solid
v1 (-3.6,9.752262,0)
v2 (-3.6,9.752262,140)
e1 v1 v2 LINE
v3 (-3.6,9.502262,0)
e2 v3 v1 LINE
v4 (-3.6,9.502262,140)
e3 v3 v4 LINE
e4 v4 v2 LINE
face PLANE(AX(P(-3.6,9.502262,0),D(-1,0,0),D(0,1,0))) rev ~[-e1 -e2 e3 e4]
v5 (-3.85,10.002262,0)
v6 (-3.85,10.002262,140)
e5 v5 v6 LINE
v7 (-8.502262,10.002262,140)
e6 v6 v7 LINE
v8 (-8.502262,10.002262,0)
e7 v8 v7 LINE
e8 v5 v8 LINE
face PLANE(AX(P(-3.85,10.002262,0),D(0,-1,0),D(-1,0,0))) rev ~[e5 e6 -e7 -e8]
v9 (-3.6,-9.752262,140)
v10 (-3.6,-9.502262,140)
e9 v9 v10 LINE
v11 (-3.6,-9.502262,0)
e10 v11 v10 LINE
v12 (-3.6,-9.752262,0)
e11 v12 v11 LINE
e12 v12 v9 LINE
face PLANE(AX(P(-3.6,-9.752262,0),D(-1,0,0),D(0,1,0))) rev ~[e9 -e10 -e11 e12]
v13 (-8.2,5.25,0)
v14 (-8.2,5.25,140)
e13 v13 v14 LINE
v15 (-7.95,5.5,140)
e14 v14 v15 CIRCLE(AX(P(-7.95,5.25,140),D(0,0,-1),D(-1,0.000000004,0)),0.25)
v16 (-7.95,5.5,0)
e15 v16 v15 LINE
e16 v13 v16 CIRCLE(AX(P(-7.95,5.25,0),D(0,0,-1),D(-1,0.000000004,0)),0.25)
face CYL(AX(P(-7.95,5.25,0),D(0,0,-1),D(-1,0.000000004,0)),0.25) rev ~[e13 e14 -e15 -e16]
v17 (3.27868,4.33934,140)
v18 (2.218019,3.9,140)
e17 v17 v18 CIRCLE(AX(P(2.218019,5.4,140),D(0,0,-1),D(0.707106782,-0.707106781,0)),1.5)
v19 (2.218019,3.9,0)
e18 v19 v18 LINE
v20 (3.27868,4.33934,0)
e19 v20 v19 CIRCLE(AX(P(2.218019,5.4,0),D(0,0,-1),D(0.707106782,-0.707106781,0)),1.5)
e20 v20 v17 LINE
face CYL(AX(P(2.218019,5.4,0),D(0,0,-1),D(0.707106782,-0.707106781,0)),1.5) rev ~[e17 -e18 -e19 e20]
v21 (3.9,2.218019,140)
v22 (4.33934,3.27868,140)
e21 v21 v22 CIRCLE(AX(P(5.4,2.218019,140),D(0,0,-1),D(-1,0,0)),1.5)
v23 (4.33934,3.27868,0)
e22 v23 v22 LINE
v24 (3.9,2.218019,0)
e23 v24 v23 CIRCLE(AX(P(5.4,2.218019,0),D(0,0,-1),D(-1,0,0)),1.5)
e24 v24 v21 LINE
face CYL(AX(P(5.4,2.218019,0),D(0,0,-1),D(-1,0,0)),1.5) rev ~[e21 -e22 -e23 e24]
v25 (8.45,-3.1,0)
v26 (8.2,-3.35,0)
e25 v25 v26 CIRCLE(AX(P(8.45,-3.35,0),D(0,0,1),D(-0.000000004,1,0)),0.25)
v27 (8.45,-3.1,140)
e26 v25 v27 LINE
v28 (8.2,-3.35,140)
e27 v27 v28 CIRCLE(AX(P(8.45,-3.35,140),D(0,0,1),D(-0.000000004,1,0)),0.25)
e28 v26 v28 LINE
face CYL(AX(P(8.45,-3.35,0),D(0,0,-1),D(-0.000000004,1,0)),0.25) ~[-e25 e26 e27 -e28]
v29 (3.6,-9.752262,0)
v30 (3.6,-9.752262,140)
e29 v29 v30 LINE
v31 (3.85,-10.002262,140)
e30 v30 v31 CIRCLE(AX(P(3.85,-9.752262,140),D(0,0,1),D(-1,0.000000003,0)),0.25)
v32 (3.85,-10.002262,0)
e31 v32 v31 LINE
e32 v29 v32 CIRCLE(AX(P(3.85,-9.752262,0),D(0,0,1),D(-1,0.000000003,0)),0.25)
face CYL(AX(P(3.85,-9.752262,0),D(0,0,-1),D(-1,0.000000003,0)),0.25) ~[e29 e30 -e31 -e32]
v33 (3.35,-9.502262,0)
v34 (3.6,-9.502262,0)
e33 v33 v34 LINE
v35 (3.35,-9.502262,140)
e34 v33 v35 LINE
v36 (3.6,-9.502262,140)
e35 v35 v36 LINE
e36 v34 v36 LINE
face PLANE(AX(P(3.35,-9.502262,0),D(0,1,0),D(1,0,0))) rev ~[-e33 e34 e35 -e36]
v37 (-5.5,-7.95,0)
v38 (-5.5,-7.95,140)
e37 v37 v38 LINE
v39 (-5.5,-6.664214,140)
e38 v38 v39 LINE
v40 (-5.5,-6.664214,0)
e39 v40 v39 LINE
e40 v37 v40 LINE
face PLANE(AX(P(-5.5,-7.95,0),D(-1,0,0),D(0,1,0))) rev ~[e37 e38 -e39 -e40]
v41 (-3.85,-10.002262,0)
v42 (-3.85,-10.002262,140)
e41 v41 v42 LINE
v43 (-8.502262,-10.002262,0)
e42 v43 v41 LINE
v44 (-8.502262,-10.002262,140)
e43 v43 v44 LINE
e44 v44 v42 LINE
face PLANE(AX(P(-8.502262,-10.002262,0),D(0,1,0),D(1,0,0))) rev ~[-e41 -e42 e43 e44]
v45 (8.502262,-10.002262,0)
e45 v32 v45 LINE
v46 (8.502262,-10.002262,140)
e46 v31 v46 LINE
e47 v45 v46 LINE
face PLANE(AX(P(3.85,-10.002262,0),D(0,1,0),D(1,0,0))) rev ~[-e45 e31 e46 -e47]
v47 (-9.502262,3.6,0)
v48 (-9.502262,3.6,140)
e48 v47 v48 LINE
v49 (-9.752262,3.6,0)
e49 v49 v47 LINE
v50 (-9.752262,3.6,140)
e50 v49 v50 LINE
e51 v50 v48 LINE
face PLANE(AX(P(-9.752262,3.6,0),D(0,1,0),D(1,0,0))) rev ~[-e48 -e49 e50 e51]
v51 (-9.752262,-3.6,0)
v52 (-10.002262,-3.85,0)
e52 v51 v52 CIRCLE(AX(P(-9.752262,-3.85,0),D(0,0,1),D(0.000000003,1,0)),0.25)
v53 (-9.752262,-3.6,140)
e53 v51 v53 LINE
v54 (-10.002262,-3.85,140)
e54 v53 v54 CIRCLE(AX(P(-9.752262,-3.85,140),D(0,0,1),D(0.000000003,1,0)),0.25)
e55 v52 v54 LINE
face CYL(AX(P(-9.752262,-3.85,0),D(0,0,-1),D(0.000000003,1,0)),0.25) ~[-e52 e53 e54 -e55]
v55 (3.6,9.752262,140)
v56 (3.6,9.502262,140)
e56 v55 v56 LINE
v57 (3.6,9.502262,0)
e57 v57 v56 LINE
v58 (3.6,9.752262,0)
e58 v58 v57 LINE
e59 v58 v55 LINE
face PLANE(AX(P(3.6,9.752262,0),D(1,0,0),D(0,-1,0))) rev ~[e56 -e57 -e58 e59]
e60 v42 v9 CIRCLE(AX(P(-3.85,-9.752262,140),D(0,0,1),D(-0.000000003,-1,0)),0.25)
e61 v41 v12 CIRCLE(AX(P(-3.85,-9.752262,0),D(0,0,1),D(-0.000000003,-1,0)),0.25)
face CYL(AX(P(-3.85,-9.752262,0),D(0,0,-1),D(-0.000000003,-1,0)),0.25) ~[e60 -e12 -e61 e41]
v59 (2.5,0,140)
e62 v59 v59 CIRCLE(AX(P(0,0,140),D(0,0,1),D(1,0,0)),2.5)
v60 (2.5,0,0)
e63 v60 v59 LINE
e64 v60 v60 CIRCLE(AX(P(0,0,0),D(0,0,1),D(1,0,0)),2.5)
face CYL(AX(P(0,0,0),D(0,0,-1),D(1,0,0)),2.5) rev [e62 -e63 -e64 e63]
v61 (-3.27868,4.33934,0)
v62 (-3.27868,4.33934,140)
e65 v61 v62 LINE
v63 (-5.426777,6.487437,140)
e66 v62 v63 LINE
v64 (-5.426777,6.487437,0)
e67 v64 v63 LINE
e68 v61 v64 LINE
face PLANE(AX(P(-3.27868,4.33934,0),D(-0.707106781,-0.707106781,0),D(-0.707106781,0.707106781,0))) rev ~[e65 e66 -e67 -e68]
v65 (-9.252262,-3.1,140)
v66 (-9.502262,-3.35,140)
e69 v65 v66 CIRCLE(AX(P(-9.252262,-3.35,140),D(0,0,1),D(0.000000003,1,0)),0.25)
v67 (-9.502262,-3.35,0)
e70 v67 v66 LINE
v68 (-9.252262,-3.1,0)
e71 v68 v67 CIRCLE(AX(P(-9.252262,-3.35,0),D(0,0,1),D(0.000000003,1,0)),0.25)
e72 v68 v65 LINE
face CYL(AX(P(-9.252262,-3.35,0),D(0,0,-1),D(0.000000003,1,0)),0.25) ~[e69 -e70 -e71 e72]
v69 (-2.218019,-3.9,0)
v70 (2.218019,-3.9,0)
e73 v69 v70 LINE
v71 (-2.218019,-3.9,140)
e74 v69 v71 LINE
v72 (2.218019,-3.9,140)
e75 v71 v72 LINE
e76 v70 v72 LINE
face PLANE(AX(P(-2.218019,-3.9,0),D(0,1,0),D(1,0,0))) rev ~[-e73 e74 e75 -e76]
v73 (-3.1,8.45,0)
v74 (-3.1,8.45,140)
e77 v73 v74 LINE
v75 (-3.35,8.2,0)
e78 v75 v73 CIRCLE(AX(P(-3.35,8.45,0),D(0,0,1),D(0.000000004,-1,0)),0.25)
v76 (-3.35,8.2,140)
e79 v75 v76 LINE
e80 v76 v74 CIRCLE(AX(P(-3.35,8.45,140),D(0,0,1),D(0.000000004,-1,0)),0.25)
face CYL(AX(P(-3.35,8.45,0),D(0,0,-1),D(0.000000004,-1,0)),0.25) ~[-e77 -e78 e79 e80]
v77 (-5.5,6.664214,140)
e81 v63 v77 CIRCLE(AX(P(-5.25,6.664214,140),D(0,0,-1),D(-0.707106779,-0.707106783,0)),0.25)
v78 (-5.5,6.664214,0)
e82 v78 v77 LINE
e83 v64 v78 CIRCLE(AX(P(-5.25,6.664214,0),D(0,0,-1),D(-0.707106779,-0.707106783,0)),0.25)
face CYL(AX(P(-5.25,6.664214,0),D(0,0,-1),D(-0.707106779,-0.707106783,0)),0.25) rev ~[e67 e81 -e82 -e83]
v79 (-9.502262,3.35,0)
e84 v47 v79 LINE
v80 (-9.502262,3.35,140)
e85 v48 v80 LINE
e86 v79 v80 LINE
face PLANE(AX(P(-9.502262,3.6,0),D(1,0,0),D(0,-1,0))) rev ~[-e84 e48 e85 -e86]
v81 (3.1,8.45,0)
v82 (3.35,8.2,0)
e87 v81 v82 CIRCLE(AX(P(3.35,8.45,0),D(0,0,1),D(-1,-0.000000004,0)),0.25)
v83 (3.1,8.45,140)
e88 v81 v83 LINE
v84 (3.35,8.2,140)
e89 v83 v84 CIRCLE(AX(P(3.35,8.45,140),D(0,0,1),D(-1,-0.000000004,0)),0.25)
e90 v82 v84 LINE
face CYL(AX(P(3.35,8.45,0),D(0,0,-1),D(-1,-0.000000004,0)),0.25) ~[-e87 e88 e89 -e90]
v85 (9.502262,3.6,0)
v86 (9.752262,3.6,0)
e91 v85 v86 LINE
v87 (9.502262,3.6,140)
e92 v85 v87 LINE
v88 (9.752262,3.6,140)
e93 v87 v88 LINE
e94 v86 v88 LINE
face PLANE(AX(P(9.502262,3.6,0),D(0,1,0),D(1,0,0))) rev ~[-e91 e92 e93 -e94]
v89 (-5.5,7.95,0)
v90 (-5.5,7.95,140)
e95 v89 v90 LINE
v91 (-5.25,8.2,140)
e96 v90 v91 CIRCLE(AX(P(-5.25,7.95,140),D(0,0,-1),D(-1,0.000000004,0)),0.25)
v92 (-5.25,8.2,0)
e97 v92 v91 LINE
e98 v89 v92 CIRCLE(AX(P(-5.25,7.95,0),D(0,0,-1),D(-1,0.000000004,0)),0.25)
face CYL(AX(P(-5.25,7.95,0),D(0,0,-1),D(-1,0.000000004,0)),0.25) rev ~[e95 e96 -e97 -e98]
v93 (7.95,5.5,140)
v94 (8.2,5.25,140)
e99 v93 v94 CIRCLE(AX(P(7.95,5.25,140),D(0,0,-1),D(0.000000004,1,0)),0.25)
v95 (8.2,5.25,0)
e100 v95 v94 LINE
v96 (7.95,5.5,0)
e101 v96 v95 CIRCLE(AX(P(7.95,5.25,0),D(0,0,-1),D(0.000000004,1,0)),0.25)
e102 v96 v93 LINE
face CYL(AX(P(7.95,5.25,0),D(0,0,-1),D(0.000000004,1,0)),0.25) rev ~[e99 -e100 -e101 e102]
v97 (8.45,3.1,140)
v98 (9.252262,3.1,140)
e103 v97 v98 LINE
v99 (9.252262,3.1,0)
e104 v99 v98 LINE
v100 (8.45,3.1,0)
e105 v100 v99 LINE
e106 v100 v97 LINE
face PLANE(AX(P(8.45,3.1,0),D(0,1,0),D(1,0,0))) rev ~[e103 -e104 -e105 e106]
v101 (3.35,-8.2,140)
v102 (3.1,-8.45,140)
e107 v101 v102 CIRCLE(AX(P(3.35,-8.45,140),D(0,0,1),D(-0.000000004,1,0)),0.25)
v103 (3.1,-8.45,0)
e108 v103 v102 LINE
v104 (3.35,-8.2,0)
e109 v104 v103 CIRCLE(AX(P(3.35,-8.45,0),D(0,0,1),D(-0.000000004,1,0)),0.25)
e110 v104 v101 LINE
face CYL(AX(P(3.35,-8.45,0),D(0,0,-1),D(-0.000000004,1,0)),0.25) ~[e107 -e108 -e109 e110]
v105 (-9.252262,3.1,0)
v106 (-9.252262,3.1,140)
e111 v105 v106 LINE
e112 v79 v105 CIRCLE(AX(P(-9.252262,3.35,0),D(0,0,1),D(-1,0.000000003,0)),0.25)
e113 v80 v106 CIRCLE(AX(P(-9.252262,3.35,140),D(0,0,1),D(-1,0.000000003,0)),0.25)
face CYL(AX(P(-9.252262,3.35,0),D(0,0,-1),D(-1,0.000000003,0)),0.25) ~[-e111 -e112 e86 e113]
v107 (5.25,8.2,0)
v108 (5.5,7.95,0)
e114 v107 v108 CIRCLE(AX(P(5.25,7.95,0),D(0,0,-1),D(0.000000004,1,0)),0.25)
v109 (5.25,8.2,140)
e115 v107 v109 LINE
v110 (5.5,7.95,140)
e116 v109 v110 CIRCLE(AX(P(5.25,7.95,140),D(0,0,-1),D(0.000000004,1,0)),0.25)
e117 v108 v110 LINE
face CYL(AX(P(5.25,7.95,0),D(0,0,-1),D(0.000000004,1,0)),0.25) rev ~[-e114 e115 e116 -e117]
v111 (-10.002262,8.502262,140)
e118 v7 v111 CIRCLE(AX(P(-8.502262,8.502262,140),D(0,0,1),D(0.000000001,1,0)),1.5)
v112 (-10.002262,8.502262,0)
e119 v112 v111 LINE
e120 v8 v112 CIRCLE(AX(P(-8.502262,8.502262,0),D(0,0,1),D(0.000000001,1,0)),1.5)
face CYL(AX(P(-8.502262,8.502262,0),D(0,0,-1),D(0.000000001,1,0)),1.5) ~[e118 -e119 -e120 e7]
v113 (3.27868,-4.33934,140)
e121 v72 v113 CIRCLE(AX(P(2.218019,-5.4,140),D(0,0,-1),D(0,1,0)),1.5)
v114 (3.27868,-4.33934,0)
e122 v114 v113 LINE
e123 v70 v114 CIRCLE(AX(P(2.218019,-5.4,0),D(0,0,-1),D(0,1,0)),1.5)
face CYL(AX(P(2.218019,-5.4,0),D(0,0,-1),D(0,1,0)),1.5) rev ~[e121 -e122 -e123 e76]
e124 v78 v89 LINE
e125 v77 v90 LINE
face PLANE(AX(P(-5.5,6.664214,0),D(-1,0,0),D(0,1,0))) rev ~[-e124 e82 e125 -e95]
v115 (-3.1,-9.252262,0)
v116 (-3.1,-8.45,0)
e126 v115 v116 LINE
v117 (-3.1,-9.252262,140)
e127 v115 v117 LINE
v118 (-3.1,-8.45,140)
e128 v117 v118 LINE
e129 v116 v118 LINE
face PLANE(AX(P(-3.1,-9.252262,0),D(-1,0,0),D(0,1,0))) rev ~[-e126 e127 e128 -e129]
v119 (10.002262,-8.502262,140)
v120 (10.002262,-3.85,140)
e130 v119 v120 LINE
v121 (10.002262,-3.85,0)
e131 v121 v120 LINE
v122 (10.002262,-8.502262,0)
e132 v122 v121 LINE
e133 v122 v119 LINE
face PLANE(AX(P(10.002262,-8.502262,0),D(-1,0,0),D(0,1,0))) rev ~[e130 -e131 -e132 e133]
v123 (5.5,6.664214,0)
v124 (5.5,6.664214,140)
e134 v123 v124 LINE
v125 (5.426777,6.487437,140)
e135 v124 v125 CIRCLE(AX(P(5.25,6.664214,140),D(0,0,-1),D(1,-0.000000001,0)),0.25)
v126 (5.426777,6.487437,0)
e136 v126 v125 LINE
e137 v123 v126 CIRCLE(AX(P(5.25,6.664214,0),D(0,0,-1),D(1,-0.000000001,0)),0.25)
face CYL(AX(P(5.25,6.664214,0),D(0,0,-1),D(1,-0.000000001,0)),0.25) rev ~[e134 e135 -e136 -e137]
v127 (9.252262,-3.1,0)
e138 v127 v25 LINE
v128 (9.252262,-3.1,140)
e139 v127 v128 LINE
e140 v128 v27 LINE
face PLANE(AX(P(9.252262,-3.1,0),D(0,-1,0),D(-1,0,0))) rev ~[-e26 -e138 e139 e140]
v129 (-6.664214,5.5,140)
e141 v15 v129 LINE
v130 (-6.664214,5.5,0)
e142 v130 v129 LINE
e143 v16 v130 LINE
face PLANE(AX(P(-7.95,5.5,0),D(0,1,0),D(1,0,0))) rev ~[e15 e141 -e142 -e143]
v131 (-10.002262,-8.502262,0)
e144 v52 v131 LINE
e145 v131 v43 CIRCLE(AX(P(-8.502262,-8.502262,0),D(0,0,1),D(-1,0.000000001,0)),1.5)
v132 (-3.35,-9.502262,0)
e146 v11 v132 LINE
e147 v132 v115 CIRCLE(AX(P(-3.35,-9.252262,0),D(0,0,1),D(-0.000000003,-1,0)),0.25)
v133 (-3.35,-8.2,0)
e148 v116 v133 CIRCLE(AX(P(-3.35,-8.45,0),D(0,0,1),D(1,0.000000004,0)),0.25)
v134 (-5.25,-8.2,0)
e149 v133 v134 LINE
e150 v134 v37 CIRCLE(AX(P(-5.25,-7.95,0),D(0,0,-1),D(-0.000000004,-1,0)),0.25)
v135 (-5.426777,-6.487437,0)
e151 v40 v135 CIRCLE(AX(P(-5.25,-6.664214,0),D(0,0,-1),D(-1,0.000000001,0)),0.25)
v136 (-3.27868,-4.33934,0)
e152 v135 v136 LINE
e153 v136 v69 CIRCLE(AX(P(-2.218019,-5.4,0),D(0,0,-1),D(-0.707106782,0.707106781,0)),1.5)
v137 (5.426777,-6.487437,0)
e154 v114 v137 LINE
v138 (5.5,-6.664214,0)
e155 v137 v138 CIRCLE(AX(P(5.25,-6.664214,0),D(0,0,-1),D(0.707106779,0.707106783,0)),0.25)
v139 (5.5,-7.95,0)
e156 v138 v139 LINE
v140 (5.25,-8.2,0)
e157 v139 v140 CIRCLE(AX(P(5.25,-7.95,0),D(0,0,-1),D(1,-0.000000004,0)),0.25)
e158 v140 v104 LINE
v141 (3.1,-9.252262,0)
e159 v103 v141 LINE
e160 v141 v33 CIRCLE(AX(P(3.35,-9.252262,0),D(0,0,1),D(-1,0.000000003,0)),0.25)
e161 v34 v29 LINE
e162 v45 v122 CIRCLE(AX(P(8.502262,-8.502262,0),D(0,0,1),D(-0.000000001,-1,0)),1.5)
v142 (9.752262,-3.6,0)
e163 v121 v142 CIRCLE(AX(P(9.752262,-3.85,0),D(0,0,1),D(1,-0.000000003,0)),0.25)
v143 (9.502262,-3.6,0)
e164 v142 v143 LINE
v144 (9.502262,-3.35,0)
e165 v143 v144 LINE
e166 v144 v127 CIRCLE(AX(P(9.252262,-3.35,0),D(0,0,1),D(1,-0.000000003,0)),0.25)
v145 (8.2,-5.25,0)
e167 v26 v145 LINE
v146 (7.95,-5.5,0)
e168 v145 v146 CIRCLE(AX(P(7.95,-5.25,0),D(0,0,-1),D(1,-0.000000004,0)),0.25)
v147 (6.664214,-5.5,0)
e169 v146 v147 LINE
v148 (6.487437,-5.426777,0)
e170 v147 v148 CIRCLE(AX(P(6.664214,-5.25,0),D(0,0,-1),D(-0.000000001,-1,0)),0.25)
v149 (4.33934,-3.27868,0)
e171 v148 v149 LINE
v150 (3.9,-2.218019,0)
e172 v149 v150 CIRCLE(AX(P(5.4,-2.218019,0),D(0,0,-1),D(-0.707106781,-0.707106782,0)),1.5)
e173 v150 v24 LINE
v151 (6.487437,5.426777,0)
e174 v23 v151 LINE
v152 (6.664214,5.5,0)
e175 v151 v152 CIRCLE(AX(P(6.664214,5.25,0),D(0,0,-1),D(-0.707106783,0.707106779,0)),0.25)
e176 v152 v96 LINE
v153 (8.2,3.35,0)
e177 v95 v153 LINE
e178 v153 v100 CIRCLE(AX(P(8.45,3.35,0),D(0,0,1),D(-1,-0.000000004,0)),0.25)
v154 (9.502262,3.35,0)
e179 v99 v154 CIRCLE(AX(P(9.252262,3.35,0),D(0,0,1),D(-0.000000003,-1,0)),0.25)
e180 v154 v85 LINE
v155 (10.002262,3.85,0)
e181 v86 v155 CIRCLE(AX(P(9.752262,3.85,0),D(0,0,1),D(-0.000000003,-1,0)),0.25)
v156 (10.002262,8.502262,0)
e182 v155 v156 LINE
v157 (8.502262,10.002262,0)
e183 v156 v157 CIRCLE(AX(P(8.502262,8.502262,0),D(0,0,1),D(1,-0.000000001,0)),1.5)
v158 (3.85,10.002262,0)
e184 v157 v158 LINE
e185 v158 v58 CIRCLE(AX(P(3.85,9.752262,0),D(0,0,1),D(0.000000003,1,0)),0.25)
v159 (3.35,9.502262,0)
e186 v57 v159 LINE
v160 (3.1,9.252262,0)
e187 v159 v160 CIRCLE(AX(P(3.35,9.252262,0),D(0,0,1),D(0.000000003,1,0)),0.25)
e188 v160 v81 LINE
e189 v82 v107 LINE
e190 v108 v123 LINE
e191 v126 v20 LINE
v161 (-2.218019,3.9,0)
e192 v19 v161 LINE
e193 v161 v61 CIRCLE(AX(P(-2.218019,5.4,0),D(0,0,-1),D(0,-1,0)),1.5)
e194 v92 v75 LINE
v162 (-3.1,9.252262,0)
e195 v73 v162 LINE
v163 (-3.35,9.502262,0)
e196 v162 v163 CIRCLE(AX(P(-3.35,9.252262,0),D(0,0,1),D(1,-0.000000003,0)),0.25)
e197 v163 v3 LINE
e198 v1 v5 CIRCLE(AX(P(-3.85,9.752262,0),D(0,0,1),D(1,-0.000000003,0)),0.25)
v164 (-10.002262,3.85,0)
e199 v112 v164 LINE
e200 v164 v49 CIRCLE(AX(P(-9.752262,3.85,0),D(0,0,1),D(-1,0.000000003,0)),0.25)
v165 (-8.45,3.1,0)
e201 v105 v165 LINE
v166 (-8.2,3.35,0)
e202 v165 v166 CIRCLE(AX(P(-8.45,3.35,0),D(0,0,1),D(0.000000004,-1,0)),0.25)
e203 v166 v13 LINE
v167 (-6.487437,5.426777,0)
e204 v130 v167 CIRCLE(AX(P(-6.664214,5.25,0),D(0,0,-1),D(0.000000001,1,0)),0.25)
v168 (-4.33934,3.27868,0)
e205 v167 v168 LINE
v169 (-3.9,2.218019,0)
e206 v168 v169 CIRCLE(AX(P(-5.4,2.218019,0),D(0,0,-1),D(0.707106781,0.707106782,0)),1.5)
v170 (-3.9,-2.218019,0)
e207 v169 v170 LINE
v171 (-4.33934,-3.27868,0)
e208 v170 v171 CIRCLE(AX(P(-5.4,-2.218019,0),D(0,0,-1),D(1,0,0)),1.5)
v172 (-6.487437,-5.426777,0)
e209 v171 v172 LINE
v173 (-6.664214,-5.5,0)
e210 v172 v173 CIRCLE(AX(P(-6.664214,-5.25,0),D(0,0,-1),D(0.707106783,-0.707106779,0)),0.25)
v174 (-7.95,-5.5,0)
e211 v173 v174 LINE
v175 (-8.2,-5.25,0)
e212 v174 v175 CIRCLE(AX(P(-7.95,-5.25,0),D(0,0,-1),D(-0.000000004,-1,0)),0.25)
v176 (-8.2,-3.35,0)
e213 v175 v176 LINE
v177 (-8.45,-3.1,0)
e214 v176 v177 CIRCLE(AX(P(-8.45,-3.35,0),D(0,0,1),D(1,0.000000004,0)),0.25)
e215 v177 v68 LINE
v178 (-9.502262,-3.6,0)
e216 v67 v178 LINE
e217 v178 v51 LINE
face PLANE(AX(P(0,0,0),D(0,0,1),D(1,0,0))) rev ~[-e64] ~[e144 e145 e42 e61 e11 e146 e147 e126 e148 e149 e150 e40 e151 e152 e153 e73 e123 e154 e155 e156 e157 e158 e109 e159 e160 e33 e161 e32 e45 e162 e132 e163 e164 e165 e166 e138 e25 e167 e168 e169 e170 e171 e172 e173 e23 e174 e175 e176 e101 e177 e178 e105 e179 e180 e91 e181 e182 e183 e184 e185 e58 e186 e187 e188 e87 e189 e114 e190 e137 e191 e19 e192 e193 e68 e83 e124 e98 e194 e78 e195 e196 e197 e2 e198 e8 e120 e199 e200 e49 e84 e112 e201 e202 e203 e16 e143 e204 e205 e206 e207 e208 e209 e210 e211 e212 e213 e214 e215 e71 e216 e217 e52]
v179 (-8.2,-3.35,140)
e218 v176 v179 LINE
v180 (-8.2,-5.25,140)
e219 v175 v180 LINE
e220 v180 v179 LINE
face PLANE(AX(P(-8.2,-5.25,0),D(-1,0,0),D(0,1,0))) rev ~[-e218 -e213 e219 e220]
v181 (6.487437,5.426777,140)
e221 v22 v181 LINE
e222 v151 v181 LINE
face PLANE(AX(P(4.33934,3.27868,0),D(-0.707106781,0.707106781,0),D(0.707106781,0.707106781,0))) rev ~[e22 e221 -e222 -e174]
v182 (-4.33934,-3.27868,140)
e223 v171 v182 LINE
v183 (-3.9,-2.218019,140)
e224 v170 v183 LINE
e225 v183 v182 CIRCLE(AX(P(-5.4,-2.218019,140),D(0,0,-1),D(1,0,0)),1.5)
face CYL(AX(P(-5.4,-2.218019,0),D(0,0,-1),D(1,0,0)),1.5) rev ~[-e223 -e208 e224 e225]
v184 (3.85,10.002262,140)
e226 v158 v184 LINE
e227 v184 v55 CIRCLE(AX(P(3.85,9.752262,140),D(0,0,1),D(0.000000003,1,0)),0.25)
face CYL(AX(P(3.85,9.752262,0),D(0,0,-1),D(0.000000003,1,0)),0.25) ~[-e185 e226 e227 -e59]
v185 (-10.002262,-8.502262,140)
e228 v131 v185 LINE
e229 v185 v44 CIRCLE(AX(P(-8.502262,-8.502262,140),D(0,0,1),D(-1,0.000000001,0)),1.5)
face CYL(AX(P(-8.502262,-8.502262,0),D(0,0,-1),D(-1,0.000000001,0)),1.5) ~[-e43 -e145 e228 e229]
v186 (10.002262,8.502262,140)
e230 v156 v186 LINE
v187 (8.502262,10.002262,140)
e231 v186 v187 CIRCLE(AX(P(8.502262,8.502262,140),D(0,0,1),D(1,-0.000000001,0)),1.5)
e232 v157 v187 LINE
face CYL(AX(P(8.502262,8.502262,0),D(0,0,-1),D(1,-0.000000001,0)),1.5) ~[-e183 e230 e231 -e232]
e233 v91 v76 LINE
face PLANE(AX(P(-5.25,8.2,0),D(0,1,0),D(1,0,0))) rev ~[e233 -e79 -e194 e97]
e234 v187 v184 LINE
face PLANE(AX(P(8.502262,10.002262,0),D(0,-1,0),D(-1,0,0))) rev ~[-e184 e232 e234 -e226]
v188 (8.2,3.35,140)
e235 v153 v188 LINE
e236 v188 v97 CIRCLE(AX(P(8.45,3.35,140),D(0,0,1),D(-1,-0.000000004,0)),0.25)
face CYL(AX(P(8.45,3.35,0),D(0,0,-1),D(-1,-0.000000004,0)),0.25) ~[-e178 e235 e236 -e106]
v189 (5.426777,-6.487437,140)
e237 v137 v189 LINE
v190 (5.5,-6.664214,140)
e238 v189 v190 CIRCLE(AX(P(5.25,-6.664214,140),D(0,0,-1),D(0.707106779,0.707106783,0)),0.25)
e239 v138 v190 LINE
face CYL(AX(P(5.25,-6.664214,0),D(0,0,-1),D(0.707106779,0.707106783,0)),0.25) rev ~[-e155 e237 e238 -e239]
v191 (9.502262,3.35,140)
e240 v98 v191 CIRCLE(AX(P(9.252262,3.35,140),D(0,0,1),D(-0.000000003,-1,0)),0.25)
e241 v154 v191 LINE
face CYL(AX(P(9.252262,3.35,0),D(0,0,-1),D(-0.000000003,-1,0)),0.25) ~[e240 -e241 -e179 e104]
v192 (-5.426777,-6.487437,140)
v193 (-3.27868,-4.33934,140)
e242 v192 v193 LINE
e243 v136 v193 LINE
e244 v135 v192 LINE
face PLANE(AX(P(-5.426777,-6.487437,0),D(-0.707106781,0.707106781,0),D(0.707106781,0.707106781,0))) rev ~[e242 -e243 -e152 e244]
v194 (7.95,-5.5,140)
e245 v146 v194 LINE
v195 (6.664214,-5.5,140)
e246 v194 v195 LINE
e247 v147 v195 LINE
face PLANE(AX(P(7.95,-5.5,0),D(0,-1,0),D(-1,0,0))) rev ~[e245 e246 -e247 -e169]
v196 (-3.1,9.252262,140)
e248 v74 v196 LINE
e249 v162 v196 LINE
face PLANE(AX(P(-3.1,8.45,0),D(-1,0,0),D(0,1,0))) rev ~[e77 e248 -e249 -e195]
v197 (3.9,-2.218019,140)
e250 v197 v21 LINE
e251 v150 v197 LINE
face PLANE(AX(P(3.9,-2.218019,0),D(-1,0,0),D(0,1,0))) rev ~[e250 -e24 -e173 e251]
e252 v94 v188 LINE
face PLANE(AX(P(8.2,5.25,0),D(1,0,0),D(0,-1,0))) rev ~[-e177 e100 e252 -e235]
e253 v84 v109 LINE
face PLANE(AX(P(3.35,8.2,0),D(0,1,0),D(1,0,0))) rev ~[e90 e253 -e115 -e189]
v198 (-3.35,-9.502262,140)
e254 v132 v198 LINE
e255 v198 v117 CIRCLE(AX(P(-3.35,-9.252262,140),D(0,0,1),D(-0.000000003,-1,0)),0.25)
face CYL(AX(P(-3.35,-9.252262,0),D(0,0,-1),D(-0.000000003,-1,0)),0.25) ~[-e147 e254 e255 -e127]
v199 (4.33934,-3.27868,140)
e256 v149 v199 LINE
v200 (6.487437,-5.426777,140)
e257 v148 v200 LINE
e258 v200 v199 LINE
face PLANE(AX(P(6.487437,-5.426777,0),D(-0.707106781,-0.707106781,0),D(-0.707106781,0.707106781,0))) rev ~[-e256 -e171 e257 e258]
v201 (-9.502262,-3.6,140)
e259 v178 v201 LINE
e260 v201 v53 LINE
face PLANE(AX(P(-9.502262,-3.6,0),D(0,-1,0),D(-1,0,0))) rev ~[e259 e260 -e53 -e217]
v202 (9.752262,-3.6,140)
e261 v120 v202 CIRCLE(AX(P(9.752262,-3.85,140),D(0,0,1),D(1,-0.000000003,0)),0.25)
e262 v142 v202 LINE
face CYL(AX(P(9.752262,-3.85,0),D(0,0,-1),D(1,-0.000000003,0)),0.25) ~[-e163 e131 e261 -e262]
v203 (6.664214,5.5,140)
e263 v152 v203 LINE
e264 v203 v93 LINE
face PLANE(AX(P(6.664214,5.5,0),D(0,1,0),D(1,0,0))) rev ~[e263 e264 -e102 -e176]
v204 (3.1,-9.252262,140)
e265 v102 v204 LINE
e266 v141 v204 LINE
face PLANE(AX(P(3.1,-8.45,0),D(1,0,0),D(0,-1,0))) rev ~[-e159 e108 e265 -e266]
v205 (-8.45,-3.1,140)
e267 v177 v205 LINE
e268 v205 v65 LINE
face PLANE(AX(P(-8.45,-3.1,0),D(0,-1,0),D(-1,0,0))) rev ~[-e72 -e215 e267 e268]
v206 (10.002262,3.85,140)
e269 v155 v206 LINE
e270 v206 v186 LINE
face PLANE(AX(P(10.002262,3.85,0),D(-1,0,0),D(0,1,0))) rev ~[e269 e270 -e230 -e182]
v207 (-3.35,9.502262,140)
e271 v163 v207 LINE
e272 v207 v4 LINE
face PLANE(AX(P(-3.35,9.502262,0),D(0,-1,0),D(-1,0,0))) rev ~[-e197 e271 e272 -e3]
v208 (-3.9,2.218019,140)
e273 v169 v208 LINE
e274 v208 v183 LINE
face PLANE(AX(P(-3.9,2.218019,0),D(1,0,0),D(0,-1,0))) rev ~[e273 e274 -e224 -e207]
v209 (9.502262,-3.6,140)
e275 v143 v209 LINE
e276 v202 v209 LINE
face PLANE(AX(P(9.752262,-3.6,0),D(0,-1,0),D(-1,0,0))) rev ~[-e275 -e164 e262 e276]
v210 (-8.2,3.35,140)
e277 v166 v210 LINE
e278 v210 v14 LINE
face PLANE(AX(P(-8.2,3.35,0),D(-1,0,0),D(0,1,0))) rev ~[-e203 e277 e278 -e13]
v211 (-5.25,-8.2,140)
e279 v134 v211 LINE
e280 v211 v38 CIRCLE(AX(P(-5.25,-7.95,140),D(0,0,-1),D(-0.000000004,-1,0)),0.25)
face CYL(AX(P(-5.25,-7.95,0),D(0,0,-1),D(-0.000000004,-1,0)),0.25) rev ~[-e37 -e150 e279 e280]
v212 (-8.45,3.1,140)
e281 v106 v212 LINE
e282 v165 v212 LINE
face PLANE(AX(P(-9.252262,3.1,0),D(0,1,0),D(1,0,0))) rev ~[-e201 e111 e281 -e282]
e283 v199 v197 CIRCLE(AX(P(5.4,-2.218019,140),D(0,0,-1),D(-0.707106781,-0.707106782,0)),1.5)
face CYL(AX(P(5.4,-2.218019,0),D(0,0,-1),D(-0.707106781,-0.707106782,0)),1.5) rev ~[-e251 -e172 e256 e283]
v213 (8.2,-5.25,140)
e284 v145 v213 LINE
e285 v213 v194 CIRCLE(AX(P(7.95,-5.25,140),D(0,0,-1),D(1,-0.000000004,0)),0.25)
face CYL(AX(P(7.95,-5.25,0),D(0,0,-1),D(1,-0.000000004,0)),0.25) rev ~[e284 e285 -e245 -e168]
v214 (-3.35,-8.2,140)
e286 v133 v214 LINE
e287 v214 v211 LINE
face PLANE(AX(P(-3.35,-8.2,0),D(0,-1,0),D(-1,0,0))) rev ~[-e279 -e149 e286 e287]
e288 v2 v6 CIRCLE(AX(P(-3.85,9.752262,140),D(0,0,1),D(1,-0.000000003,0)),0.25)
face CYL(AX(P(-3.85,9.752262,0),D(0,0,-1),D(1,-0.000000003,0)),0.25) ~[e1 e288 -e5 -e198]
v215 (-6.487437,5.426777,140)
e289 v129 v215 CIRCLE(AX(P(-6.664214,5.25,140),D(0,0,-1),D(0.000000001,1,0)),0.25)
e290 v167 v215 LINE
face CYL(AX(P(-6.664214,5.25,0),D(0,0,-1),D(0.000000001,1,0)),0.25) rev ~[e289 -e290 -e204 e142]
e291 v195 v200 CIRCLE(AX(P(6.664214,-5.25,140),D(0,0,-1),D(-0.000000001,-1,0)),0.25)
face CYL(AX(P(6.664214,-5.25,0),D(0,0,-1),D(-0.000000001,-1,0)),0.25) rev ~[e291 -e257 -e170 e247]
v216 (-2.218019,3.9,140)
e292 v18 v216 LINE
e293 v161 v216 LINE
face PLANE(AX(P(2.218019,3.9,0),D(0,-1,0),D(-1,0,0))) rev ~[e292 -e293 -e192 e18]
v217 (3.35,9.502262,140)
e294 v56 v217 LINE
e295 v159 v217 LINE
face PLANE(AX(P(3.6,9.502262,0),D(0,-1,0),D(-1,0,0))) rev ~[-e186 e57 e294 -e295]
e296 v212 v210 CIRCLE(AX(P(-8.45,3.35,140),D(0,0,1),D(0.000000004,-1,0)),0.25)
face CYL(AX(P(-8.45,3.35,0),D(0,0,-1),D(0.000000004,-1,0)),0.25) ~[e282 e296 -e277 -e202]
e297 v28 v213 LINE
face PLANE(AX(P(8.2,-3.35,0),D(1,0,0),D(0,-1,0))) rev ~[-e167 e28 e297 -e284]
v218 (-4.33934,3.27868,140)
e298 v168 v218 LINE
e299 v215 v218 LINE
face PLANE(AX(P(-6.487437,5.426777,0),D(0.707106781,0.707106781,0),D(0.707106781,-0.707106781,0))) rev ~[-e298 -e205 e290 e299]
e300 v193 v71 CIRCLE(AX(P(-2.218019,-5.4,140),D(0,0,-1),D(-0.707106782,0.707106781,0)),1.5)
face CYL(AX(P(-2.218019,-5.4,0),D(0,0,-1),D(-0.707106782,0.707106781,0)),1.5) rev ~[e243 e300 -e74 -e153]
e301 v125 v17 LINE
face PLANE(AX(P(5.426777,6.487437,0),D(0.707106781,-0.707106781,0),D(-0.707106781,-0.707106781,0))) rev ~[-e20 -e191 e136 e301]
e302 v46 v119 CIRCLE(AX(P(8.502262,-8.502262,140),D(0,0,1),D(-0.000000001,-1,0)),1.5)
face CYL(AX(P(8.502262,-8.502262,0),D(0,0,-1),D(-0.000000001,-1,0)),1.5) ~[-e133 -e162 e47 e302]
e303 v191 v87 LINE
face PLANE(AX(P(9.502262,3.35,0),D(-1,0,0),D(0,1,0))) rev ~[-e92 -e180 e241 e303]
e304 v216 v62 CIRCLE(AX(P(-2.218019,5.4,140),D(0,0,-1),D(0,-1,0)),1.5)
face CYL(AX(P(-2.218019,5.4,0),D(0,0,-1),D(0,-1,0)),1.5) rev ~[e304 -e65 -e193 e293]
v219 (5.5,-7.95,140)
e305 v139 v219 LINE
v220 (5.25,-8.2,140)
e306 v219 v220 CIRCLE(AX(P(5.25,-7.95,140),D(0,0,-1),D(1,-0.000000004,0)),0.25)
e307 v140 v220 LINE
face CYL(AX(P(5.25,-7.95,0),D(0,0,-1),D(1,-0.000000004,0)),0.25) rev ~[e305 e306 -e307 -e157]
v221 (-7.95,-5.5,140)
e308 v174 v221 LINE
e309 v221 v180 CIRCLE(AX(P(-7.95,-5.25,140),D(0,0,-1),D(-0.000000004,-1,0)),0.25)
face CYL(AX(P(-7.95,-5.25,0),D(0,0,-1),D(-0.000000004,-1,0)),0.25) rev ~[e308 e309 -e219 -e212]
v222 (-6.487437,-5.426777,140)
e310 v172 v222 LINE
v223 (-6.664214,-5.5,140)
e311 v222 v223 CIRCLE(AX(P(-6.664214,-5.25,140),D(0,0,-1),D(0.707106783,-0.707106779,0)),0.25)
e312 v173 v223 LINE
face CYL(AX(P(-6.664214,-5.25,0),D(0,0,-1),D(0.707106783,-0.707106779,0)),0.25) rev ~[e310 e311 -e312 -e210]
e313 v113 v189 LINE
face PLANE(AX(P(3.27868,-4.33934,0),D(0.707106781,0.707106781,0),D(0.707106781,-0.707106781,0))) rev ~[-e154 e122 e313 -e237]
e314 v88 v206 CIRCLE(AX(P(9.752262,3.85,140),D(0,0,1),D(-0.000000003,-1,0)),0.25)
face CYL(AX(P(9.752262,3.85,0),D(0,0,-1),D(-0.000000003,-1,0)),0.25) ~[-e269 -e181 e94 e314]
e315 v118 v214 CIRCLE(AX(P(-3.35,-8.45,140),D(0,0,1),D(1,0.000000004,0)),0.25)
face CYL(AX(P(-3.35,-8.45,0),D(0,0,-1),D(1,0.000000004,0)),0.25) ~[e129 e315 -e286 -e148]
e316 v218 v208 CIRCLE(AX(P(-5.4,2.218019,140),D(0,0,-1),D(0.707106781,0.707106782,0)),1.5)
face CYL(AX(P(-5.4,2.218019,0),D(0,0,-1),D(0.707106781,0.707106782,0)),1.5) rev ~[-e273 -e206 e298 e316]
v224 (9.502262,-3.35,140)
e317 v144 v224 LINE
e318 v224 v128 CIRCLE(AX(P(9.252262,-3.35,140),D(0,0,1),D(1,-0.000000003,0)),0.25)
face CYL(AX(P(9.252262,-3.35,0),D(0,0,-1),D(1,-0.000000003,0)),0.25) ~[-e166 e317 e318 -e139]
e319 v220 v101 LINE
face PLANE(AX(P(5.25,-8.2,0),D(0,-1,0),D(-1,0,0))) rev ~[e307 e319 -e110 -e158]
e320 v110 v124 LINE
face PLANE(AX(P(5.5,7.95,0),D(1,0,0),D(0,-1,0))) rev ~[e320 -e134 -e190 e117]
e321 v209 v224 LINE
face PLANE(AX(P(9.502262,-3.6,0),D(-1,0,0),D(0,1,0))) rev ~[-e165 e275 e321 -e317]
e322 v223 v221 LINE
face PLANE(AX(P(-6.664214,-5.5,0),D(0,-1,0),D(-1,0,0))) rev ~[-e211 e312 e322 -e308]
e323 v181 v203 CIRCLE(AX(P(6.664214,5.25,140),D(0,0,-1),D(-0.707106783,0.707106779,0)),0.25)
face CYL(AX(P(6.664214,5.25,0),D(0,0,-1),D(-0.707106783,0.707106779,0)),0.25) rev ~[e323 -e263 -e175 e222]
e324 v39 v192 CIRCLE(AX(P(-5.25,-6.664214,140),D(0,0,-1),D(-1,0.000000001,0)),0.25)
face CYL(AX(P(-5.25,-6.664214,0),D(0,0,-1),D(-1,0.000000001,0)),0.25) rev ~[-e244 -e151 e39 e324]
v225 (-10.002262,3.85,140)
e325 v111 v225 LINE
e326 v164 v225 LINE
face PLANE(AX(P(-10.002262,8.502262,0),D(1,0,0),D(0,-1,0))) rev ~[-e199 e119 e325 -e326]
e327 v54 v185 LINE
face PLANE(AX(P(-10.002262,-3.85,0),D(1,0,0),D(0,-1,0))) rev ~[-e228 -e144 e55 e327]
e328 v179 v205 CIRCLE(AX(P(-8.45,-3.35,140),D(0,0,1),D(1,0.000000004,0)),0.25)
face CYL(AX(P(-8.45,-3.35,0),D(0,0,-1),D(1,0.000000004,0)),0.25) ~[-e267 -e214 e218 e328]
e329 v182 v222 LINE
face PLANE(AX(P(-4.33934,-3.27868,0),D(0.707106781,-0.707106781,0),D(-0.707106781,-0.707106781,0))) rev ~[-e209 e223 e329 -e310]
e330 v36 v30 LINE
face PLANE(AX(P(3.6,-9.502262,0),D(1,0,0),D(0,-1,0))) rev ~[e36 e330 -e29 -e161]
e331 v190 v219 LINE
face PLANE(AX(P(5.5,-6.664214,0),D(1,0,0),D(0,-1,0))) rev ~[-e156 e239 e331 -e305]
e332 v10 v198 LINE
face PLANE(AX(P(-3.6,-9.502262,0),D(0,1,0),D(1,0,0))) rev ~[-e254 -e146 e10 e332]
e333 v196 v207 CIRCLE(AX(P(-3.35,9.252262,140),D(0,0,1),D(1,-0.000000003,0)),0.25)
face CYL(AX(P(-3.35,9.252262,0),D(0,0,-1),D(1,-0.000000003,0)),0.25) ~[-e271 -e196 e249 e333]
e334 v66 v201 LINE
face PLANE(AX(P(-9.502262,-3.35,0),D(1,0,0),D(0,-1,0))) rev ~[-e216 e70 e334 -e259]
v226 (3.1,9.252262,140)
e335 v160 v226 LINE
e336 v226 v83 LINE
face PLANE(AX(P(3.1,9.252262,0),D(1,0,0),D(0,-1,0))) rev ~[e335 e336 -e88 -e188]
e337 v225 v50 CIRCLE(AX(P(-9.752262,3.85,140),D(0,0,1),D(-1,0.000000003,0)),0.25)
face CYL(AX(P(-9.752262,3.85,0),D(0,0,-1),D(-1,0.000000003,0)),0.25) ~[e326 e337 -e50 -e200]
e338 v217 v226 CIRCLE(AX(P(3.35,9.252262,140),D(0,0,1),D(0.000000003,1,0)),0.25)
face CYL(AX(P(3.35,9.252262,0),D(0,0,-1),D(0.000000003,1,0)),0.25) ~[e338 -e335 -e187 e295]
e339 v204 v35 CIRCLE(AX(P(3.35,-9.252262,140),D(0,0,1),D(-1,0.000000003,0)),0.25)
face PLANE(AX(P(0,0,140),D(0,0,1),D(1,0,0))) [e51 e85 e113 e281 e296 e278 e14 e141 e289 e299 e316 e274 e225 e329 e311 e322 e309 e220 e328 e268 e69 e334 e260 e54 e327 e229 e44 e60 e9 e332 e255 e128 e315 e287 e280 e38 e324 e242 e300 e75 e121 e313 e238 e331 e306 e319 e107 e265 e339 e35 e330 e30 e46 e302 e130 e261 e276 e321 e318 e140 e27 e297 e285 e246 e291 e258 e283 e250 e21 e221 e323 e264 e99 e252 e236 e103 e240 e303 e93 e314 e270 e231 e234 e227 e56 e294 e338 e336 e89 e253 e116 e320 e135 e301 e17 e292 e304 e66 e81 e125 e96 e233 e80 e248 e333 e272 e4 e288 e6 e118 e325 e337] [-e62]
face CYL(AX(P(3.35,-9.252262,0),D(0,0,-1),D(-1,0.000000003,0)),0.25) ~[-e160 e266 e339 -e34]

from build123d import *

# Parameters (mm, degrees)
SKETCH_1_R      = 2.5
EXTRUDE_1_DEPTH = 140


with BuildPart() as part:
    # 草图1 → 凸台-拉伸1 (new body)
    with BuildSketch(Plane.XY):
        with BuildLine():
            Line((-8.502261885, -10.002261885), (-3.85, -10.002261885))
            ThreePointArc((-3.85, -10.002261885), (-3.673223305, -9.929038581), (-3.6, -9.752261885))
            Line((-3.6, -9.752261885), (-3.6, -9.502261885))
            Line((-3.6, -9.502261885), (-3.35, -9.502261885))
            ThreePointArc((-3.35, -9.502261885), (-3.173223305, -9.429038581), (-3.1, -9.252261885))
            Line((-3.1, -9.252261885), (-3.1, -8.45))
            ThreePointArc((-3.1, -8.45), (-3.173223305, -8.273223305), (-3.35, -8.2))
            Line((-3.35, -8.2), (-5.25, -8.2))
            ThreePointArc((-5.25, -8.2), (-5.426776695, -8.126776695), (-5.5, -7.95))
            Line((-5.5, -7.95), (-5.5, -6.664213562))
            ThreePointArc((-5.5, -6.664213562), (-5.480969883, -6.568542704), (-5.426776695, -6.487436867))
            Line((-5.426776695, -6.487436867), (-3.278679656, -4.339339828))
            ThreePointArc((-3.278679656, -4.339339828), (-2.792044633, -4.014180701), (-2.218019485, -3.9))
            Line((-2.218019485, -3.9), (2.218019485, -3.9))
            ThreePointArc((2.218019485, -3.9), (2.792044633, -4.014180701), (3.278679656, -4.339339828))
            Line((3.278679656, -4.339339828), (5.426776695, -6.487436867))
            ThreePointArc((5.426776695, -6.487436867), (5.480969883, -6.568542704), (5.5, -6.664213562))
            Line((5.5, -6.664213562), (5.5, -7.95))
            ThreePointArc((5.5, -7.95), (5.426776695, -8.126776695), (5.25, -8.2))
            Line((5.25, -8.2), (3.35, -8.2))
            ThreePointArc((3.35, -8.2), (3.173223305, -8.273223305), (3.1, -8.45))
            Line((3.1, -8.45), (3.1, -9.252261885))
            ThreePointArc((3.1, -9.252261885), (3.173223305, -9.429038581), (3.35, -9.502261885))
            Line((3.35, -9.502261885), (3.6, -9.502261885))
            Line((3.6, -9.502261885), (3.6, -9.752261885))
            ThreePointArc((3.6, -9.752261885), (3.673223305, -9.929038581), (3.85, -10.002261885))
            Line((3.85, -10.002261885), (8.502261885, -10.002261885))
            ThreePointArc((8.502261885, -10.002261885), (9.562922057, -9.562922057), (10.002261885, -8.502261885))
            Line((10.002261885, -8.502261885), (10.002261885, -3.85))
            ThreePointArc((10.002261885, -3.85), (9.929038581, -3.673223305), (9.752261885, -3.6))
            Line((9.752261885, -3.6), (9.502261885, -3.6))
            Line((9.502261885, -3.6), (9.502261885, -3.35))
            ThreePointArc((9.502261885, -3.35), (9.429038581, -3.173223305), (9.252261885, -3.1))
            Line((9.252261885, -3.1), (8.45, -3.1))
            ThreePointArc((8.45, -3.1), (8.273223305, -3.173223305), (8.2, -3.35))
            Line((8.2, -3.35), (8.2, -5.25))
            ThreePointArc((8.2, -5.25), (8.126776695, -5.426776695), (7.95, -5.5))
            Line((7.95, -5.5), (6.664213562, -5.5))
            ThreePointArc((6.664213562, -5.5), (6.568542704, -5.480969883), (6.487436867, -5.426776695))
            Line((6.487436867, -5.426776695), (4.339339828, -3.278679656))
            ThreePointArc((4.339339828, -3.278679656), (4.014180701, -2.792044633), (3.9, -2.218019485))
            Line((3.9, -2.218019485), (3.9, 2.218019485))
            ThreePointArc((3.9, 2.218019485), (4.014180701, 2.792044633), (4.339339828, 3.278679656))
            Line((4.339339828, 3.278679656), (6.487436867, 5.426776695))
            ThreePointArc((6.487436867, 5.426776695), (6.568542704, 5.480969883), (6.664213562, 5.5))
            Line((6.664213562, 5.5), (7.95, 5.5))
            ThreePointArc((7.95, 5.5), (8.126776695, 5.426776695), (8.2, 5.25))
            Line((8.2, 5.25), (8.2, 3.35))
            ThreePointArc((8.2, 3.35), (8.273223305, 3.173223305), (8.45, 3.1))
            Line((8.45, 3.1), (9.252261885, 3.1))
            ThreePointArc((9.252261885, 3.1), (9.429038581, 3.173223305), (9.502261885, 3.35))
            Line((9.502261885, 3.35), (9.502261885, 3.6))
            Line((9.502261885, 3.6), (9.752261885, 3.6))
            ThreePointArc((9.752261885, 3.6), (9.929038581, 3.673223305), (10.002261885, 3.85))
            Line((10.002261885, 3.85), (10.002261885, 8.502261885))
            ThreePointArc((10.002261885, 8.502261885), (9.562922057, 9.562922057), (8.502261885, 10.002261885))
            Line((8.502261885, 10.002261885), (3.85, 10.002261885))
            ThreePointArc((3.85, 10.002261885), (3.673223305, 9.929038581), (3.6, 9.752261885))
            Line((3.6, 9.752261885), (3.6, 9.502261885))
            Line((3.6, 9.502261885), (3.35, 9.502261885))
            ThreePointArc((3.35, 9.502261885), (3.173223305, 9.429038581), (3.1, 9.252261885))
            Line((3.1, 9.252261885), (3.1, 8.45))
            ThreePointArc((3.1, 8.45), (3.173223305, 8.273223305), (3.35, 8.2))
            Line((3.35, 8.2), (5.25, 8.2))
            ThreePointArc((5.25, 8.2), (5.426776695, 8.126776695), (5.5, 7.95))
            Line((5.5, 7.95), (5.5, 6.664213562))
            ThreePointArc((5.5, 6.664213562), (5.480969883, 6.568542704), (5.426776695, 6.487436867))
            Line((5.426776695, 6.487436867), (3.278679656, 4.339339828))
            ThreePointArc((3.278679656, 4.339339828), (2.792044633, 4.014180701), (2.218019485, 3.9))
            Line((2.218019485, 3.9), (-2.218019485, 3.9))
            ThreePointArc((-2.218019485, 3.9), (-2.792044633, 4.014180701), (-3.278679656, 4.339339828))
            Line((-3.278679656, 4.339339828), (-5.426776695, 6.487436867))
            ThreePointArc((-5.426776695, 6.487436867), (-5.480969883, 6.568542704), (-5.5, 6.664213562))
            Line((-5.5, 6.664213562), (-5.5, 7.95))
            ThreePointArc((-5.5, 7.95), (-5.426776695, 8.126776695), (-5.25, 8.2))
            Line((-5.25, 8.2), (-3.35, 8.2))
            ThreePointArc((-3.35, 8.2), (-3.173223305, 8.273223305), (-3.1, 8.45))
            Line((-3.1, 8.45), (-3.1, 9.252261885))
            ThreePointArc((-3.1, 9.252261885), (-3.173223305, 9.429038581), (-3.35, 9.502261885))
            Line((-3.35, 9.502261885), (-3.6, 9.502261885))
            Line((-3.6, 9.502261885), (-3.6, 9.752261885))
            ThreePointArc((-3.6, 9.752261885), (-3.673223305, 9.929038581), (-3.85, 10.002261885))
            Line((-3.85, 10.002261885), (-8.502261885, 10.002261885))
            ThreePointArc((-8.502261885, 10.002261885), (-9.562922057, 9.562922057), (-10.002261885, 8.502261885))
            Line((-10.002261885, 8.502261885), (-10.002261885, 3.85))
            ThreePointArc((-10.002261885, 3.85), (-9.929038581, 3.673223305), (-9.752261885, 3.6))
            Line((-9.752261885, 3.6), (-9.502261885, 3.6))
            Line((-9.502261885, 3.6), (-9.502261885, 3.35))
            ThreePointArc((-9.502261885, 3.35), (-9.429038581, 3.173223305), (-9.252261885, 3.1))
            Line((-9.252261885, 3.1), (-8.45, 3.1))
            ThreePointArc((-8.45, 3.1), (-8.273223305, 3.173223305), (-8.2, 3.35))
            Line((-8.2, 3.35), (-8.2, 5.25))
            ThreePointArc((-8.2, 5.25), (-8.126776695, 5.426776695), (-7.95, 5.5))
            Line((-7.95, 5.5), (-6.664213562, 5.5))
            ThreePointArc((-6.664213562, 5.5), (-6.568542704, 5.480969883), (-6.487436867, 5.426776695))
            Line((-6.487436867, 5.426776695), (-4.339339828, 3.278679656))
            ThreePointArc((-4.339339828, 3.278679656), (-4.014180701, 2.792044633), (-3.9, 2.218019485))
            Line((-3.9, 2.218019485), (-3.9, -2.218019485))
            ThreePointArc((-3.9, -2.218019485), (-4.014180701, -2.792044633), (-4.339339828, -3.278679656))
            Line((-4.339339828, -3.278679656), (-6.487436867, -5.426776695))
            ThreePointArc((-6.487436867, -5.426776695), (-6.568542704, -5.480969883), (-6.664213562, -5.5))
            Line((-6.664213562, -5.5), (-7.95, -5.5))
            ThreePointArc((-7.95, -5.5), (-8.126776695, -5.426776695), (-8.2, -5.25))
            Line((-8.2, -5.25), (-8.2, -3.35))
            ThreePointArc((-8.2, -3.35), (-8.273223305, -3.173223305), (-8.45, -3.1))
            Line((-8.45, -3.1), (-9.252261885, -3.1))
            ThreePointArc((-9.252261885, -3.1), (-9.429038581, -3.173223305), (-9.502261885, -3.35))
            Line((-9.502261885, -3.35), (-9.502261885, -3.6))
            Line((-9.502261885, -3.6), (-9.752261885, -3.6))
            ThreePointArc((-9.752261885, -3.6), (-9.929038581, -3.673223305), (-10.002261885, -3.85))
            Line((-10.002261885, -3.85), (-10.002261885, -8.502261885))
            ThreePointArc((-10.002261885, -8.502261885), (-9.562922057, -9.562922057), (-8.502261885, -10.002261885))
        make_face()
        Circle(SKETCH_1_R, mode=Mode.SUBTRACT)
    extrude(amount=EXTRUDE_1_DEPTH)


solid = part.part
